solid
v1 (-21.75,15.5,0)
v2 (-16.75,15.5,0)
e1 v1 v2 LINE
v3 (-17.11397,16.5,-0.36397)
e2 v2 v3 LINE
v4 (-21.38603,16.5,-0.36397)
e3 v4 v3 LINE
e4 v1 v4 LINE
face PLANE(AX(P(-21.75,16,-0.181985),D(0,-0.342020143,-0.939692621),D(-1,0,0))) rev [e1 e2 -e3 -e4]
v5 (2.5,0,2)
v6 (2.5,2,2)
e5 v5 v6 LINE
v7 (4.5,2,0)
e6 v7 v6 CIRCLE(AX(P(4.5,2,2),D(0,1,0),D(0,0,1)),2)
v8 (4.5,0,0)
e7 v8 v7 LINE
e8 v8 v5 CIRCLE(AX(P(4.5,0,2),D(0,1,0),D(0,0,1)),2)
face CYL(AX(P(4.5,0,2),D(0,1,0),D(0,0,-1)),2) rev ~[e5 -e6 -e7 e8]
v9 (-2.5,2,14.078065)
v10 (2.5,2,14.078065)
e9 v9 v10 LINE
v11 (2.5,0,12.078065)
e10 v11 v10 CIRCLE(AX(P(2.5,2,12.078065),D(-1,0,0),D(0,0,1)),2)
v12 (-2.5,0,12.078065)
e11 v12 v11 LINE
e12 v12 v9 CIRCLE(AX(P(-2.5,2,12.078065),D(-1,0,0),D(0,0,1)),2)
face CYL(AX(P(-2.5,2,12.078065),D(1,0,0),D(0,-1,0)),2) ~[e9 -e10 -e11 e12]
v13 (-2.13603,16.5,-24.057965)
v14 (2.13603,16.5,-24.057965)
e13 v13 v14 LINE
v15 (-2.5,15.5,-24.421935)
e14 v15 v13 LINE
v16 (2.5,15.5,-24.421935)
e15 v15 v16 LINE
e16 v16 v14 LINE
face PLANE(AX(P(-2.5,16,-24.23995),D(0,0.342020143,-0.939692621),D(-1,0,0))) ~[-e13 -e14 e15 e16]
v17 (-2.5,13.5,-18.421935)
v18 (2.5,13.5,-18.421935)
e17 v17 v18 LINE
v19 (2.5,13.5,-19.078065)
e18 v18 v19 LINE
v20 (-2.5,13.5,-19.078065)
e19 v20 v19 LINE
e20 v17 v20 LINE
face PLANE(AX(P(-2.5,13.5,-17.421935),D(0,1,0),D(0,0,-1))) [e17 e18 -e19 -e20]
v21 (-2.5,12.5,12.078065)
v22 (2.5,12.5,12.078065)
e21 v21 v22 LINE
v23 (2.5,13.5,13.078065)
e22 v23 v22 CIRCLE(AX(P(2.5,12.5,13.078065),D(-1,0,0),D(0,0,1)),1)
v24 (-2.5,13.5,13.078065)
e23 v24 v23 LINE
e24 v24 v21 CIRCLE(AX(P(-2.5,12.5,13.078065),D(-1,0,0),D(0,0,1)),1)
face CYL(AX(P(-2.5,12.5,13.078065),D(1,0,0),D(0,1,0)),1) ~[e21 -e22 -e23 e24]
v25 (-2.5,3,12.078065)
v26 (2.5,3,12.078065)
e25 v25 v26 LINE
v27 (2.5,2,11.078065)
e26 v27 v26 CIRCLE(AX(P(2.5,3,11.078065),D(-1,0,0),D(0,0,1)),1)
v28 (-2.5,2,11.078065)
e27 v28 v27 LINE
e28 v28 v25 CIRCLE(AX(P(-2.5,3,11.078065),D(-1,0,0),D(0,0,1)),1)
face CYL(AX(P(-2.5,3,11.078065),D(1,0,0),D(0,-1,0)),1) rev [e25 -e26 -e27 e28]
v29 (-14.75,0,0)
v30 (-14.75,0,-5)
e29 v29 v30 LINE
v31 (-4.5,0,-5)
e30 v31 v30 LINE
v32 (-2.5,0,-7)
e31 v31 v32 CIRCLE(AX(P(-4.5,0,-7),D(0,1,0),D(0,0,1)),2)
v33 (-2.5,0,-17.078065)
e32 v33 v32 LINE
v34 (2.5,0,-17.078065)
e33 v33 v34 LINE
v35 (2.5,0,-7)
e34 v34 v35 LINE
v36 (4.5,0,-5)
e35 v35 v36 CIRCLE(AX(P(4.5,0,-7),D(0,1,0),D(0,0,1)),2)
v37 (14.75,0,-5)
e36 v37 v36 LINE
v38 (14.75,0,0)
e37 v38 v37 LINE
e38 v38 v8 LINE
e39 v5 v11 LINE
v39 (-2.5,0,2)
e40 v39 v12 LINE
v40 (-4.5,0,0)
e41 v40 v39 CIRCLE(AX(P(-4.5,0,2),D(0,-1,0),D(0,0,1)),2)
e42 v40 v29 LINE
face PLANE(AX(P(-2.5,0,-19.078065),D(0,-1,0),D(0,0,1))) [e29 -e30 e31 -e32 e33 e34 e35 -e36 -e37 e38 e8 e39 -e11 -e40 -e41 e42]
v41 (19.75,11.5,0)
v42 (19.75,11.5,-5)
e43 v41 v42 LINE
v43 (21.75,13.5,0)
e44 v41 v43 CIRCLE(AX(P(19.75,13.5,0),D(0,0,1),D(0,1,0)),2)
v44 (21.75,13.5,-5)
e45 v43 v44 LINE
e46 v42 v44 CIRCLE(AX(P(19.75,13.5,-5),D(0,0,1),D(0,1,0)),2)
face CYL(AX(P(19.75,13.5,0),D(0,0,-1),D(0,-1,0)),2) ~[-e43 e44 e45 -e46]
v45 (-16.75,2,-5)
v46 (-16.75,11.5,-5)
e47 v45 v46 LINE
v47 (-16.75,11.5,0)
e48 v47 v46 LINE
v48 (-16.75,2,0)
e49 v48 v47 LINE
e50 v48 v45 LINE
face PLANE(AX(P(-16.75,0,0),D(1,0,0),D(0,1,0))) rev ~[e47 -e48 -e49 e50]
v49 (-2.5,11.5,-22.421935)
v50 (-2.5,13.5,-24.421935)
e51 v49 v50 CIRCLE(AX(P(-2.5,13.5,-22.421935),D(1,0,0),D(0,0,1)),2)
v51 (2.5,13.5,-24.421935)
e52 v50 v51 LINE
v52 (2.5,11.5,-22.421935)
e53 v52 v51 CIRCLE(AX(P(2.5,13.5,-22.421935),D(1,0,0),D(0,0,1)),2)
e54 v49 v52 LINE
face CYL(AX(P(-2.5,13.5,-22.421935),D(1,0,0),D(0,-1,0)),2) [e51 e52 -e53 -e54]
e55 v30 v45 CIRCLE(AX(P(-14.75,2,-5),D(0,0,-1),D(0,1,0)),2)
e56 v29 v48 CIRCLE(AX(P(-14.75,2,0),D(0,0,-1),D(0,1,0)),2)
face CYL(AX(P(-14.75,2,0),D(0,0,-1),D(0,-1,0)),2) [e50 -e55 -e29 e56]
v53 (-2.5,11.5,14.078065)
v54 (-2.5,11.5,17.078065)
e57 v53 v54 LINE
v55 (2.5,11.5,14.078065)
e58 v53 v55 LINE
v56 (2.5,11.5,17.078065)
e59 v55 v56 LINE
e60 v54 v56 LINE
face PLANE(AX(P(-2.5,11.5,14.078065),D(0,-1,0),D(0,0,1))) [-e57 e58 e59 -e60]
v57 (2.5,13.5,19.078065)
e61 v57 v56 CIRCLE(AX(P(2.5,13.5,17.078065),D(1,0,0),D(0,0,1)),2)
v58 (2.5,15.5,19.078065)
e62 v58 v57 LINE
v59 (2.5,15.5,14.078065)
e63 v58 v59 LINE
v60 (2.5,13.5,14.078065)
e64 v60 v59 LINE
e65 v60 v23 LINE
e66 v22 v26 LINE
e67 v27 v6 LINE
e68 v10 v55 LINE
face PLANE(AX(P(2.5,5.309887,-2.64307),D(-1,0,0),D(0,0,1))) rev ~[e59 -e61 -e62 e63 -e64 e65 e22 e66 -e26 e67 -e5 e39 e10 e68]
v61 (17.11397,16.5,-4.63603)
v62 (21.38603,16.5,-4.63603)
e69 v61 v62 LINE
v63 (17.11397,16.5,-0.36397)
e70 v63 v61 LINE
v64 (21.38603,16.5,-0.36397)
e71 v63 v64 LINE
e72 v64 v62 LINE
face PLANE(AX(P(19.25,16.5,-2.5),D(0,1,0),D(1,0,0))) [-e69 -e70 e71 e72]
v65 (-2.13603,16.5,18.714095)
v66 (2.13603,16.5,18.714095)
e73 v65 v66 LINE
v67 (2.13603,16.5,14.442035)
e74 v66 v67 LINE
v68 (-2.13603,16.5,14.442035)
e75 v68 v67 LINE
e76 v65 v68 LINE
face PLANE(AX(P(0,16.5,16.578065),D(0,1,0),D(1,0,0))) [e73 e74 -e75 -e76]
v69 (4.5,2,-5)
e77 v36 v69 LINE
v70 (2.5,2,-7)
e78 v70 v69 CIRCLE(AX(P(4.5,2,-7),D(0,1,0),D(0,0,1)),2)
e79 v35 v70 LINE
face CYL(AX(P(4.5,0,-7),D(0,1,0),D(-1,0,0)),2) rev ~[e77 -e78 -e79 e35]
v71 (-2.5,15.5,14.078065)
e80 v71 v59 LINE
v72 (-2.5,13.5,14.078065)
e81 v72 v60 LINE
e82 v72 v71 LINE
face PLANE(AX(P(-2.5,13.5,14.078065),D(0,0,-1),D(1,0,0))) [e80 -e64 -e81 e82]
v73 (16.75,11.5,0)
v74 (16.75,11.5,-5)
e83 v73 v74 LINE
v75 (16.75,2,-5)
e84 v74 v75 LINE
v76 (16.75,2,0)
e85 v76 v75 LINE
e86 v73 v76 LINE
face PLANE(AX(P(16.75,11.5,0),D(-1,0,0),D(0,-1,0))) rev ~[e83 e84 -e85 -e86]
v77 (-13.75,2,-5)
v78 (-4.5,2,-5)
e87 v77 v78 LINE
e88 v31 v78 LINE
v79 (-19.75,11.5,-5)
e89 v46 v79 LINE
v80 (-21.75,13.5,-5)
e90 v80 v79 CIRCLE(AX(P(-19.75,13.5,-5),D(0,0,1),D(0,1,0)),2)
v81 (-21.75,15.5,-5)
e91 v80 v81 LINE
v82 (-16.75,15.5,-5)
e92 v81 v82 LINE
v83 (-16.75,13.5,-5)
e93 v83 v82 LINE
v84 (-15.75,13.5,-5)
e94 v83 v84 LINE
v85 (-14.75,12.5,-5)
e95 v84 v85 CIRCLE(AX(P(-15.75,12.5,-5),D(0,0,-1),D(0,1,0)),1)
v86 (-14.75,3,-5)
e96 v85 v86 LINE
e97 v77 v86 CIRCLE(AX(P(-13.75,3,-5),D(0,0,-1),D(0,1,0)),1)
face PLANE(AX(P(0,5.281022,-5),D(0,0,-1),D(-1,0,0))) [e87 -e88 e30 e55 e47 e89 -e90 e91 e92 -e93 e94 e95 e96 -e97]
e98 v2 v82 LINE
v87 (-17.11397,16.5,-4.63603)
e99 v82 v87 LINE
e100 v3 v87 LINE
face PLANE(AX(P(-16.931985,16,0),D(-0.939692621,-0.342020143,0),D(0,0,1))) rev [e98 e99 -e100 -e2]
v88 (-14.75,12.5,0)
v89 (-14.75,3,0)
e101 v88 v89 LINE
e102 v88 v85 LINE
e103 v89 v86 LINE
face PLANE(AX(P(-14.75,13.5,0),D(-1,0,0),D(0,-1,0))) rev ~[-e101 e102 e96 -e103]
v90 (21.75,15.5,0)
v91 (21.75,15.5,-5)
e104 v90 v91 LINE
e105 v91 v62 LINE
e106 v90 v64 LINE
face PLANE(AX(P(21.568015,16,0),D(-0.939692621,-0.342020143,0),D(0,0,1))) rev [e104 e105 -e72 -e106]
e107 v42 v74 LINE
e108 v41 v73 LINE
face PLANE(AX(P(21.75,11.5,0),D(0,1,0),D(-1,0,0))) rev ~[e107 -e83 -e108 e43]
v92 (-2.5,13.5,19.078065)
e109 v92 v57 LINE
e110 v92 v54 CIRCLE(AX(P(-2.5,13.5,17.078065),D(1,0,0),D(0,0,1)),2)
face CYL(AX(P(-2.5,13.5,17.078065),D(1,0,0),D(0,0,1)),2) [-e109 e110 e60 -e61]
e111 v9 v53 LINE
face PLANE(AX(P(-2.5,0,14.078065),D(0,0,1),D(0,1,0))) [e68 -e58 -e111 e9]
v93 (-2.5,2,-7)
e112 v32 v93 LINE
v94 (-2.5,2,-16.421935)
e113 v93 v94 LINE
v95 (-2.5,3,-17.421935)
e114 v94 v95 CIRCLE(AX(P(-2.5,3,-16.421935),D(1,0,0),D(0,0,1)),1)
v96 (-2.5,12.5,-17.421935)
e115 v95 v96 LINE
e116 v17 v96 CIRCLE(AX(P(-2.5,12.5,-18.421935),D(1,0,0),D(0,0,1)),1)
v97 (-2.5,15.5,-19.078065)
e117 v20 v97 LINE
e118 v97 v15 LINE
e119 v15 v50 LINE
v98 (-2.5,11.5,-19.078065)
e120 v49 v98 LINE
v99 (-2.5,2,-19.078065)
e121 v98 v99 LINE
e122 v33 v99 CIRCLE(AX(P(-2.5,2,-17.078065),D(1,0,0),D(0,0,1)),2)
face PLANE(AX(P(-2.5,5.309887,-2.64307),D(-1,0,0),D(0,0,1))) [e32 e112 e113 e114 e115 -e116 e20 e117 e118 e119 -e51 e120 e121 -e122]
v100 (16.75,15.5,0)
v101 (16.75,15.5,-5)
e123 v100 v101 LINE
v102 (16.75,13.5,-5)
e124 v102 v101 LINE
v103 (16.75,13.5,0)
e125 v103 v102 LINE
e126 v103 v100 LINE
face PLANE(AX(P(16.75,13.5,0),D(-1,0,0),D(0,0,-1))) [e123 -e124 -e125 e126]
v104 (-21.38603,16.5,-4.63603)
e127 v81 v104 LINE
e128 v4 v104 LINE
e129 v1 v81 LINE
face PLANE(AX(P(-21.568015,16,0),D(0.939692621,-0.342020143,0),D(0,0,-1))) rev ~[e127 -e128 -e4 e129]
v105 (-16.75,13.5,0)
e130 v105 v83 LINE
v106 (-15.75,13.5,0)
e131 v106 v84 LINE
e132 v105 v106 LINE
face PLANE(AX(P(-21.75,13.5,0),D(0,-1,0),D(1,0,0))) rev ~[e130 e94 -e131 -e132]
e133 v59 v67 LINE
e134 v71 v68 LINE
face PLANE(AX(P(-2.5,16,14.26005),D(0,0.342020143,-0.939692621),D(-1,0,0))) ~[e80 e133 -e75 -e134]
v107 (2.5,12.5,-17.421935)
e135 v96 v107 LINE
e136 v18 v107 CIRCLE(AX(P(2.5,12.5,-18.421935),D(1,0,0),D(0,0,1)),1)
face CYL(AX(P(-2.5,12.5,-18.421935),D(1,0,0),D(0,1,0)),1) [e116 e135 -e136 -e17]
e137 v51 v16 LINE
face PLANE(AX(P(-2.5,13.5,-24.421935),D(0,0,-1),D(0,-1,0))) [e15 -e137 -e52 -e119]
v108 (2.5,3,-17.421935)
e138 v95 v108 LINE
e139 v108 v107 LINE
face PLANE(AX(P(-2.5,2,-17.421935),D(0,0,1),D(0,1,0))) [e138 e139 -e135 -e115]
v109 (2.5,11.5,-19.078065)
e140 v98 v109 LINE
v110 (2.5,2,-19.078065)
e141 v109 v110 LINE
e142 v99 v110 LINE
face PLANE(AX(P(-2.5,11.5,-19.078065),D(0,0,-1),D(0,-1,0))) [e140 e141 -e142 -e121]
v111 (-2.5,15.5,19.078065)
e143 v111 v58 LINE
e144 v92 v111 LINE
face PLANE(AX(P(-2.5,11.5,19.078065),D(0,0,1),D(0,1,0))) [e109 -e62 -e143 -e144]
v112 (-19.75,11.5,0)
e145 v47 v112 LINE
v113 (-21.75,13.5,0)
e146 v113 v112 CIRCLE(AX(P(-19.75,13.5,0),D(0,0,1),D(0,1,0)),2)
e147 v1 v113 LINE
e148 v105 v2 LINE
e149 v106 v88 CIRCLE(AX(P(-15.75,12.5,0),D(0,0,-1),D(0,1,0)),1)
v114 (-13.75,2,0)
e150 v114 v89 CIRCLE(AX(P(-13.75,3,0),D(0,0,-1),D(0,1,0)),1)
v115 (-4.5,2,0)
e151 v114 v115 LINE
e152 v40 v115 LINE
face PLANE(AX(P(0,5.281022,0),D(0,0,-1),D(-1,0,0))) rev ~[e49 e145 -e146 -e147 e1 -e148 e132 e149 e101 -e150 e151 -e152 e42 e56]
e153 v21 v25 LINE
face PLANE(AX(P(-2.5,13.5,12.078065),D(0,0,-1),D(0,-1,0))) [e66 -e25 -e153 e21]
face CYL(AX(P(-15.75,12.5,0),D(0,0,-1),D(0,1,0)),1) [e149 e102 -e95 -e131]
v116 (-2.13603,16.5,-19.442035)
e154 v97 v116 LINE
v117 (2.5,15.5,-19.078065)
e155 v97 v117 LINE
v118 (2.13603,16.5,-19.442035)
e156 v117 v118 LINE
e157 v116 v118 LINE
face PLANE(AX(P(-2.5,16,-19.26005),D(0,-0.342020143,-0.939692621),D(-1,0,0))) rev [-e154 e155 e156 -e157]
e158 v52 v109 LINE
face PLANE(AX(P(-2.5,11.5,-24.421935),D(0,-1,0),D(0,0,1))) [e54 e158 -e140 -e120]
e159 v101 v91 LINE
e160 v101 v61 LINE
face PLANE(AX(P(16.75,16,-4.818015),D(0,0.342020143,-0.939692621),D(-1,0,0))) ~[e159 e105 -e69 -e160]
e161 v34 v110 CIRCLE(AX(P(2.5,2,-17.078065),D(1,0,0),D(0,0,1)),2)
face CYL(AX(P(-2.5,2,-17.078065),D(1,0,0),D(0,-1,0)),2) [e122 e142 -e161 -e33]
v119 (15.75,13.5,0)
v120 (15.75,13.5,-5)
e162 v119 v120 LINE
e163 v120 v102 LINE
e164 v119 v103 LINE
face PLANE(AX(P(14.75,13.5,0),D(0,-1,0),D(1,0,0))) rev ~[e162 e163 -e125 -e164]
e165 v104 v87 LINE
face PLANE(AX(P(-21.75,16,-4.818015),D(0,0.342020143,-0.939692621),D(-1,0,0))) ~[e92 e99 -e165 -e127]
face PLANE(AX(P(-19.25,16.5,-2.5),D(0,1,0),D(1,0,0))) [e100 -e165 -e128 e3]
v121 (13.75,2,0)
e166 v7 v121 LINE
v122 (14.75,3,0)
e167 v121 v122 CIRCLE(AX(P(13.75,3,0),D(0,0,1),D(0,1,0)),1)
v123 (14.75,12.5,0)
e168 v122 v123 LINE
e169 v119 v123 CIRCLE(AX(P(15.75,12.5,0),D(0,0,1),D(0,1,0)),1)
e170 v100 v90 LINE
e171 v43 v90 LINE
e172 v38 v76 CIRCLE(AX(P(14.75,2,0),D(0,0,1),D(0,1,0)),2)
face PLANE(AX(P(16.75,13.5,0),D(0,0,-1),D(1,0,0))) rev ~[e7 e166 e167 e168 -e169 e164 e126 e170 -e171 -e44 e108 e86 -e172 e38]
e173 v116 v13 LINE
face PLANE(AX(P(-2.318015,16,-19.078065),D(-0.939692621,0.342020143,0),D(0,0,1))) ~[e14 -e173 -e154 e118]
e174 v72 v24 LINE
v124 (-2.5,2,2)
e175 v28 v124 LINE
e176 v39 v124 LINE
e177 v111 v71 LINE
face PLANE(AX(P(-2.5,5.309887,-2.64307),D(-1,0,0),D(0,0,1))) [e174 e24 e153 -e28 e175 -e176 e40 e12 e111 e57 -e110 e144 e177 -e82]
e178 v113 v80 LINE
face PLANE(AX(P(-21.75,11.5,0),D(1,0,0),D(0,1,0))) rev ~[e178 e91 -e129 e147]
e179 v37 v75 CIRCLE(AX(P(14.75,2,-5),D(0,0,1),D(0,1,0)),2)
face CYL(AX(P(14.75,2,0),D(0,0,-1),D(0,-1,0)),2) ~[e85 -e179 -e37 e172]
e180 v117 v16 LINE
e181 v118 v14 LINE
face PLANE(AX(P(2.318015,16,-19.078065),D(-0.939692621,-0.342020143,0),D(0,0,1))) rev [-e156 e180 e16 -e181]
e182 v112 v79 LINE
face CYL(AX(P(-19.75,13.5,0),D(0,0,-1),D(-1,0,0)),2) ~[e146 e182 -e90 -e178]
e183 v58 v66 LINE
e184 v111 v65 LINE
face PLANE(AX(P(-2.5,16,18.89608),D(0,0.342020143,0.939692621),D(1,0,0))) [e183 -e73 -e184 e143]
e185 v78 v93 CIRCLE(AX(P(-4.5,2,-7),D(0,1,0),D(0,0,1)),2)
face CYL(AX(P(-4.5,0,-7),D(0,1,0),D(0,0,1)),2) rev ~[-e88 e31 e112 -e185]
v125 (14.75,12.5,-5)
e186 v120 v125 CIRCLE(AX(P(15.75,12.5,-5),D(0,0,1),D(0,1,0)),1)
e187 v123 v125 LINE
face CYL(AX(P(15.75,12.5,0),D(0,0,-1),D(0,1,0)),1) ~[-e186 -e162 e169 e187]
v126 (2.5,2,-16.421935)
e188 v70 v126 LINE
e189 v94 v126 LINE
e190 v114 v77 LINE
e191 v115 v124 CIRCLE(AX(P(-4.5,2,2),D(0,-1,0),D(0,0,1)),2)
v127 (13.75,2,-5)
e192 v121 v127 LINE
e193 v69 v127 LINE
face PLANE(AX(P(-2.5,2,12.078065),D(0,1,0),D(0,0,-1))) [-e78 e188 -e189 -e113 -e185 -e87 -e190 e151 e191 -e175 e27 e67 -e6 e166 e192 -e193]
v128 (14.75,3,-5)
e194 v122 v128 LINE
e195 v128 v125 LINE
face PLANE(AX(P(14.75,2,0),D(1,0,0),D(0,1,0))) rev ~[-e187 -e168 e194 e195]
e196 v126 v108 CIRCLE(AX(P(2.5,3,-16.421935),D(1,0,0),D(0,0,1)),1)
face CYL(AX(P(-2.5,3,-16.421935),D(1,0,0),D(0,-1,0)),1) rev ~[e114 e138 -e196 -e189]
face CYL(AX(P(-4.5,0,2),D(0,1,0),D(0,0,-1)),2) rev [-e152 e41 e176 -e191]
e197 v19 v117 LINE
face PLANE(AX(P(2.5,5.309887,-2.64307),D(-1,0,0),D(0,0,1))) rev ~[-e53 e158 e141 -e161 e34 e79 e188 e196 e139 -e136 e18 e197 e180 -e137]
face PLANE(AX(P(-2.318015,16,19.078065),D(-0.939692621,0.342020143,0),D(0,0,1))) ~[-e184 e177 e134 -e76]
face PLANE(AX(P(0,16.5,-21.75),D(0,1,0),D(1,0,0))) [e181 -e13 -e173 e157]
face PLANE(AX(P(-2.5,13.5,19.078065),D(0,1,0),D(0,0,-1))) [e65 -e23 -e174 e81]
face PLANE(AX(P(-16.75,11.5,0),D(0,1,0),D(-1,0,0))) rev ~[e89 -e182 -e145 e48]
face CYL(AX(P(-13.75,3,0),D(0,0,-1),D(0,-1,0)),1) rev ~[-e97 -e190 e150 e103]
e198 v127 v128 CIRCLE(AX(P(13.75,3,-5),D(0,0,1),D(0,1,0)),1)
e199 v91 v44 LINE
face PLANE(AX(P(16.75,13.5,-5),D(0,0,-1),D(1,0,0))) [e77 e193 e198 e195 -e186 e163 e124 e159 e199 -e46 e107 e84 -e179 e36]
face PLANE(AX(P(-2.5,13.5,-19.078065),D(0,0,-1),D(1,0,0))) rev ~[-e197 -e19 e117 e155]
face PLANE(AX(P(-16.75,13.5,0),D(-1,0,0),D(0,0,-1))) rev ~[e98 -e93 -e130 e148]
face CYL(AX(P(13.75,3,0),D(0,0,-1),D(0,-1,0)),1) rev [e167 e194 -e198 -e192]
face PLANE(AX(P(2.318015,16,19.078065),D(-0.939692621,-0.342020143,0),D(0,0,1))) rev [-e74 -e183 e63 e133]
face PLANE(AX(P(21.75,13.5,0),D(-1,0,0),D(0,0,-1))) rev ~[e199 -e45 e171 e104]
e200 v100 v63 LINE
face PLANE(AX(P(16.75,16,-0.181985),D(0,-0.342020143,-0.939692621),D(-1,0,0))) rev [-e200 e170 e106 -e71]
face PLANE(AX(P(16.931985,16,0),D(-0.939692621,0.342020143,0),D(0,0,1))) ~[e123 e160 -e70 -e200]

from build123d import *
from OCP.BRepFilletAPI import BRepFilletAPI_MakeChamfer

# Parameters (mm, degrees)
BOSS_EXTRUDE1_DEPTH      = 5
BOSS_EXTRUDE2_DEPTH      = 2.5
BOSS_EXTRUDE2_DEPTH_BACK = 2.5
SKETCH6_W                = 5
SKETCH6_H                = 5
SKETCH6_H_2              = 5.343869798
BOSS_EXTRUDE3_DEPTH      = 3
FILLET1_R                = 1
FILLET2_R                = 2
CHAMFER1_SIZE            = 1
CHAMFER1_SIZE2           = 0.363970234
FILLET3_R                = 1


with BuildPart() as part:
    # Sketch1 → Boss-Extrude1 (new body)
    with BuildSketch(Plane.XY):
        Polygon((16.75, 0), (-16.75, 0), (-16.75, 11.5), (-21.75, 11.5), (-21.75, 13.5), (-14.75, 13.5), (-14.75, 2), (14.75, 2), (14.75, 13.5), (21.75, 13.5), (21.75, 11.5), (16.75, 11.5), align=None)
    extrude(amount=-BOSS_EXTRUDE1_DEPTH)

    # Sketch5 → Boss-Extrude2 (add, two sides: drawn at the far end of the back side and taken through both)
    with BuildSketch(Plane(origin=(0, 0, 0), x_dir=(0, 0, -1), z_dir=(1, 0, 0)).offset(-BOSS_EXTRUDE2_DEPTH_BACK)):
        Polygon((19.078065101, 0), (-14.078065101, 0), (-14.078065101, 11.5), (-19.078065101, 11.5), (-19.078065101, 13.5), (-12.078065101, 13.5), (-12.078065101, 2), (17.421934899, 2), (17.421934899, 13.5), (24.421934899, 13.5), (24.421934899, 11.5), (19.078065101, 11.5), align=None)
    extrude(amount=BOSS_EXTRUDE2_DEPTH + BOSS_EXTRUDE2_DEPTH_BACK)

    # Sketch6 → Boss-Extrude3 (add)
    with BuildSketch(Plane(origin=(0, 13.5, 0), x_dir=(1, 0, 0), z_dir=(0, 1, 0))):
        with Locations((19.25, 2.5)):
            Rectangle(SKETCH6_W, SKETCH6_H)
        with Locations((0, -16.578065101)):
            Rectangle(SKETCH6_W, SKETCH6_H)
        with Locations((-19.25, 2.5)):
            Rectangle(SKETCH6_W, SKETCH6_H)
        with Locations((0, 21.75)):
            Rectangle(SKETCH6_W, SKETCH6_H_2)
    extrude(amount=BOSS_EXTRUDE3_DEPTH)

    # Fillet1
    fillet1_edges = [part.edges().sort_by_distance(p)[0] for p in [
        (-14.75, 2, -2.5),
        (14.75, 2, -2.5),
        (0, 2, 12.078065101),
        (0, 2, -17.421934899),
    ]]
    fillet(fillet1_edges, radius=FILLET1_R)

    # Fillet2
    fillet2_edges = [part.edges().sort_by_distance(p)[0] for p in [
        (-21.75, 11.5, -2.5),
        (21.75, 11.5, -2.5),
        (16.75, 0, -2.5),
        (-16.75, 0, -2.5),
        (2.5, 1, 0),
        (-2.5, 1, 0),
        (0, 0, -19.078065101),
        (-2.5, 1, -5),
        (2.5, 1, -5),
        (0, 0, 14.078065101),
        (0, 11.5, 19.078065101),
        (0, 11.5, -24.421934899),
    ]]
    fillet(fillet2_edges, radius=FILLET2_R)

    # Chamfer1: one chamfer whose edges measure the first distance from different faces: ONE call of the kernel's chamfer builder (chamfer() names one face for all edges)
    chamfer1_edges_1 = [part.edges().sort_by_distance(p)[0] for p in [
        (-16.75, 16.5, -2.5),
    ]]
    chamfer1_side_1 = [part.faces().sort_by_distance(p)[0] for p in [
        (-16.75, 15, -2.5),
    ]]
    chamfer1_edges_2 = [part.edges().sort_by_distance(p)[0] for p in [
        (-19.25, 16.5, -5),
    ]]
    chamfer1_side_2 = [part.faces().sort_by_distance(p)[0] for p in [
        (-15.136362203, 7.64232962, -5),
    ]]
    chamfer1_edges_3 = [part.edges().sort_by_distance(p)[0] for p in [
        (-21.75, 16.5, -2.5),
    ]]
    chamfer1_side_3 = [part.faces().sort_by_distance(p)[0] for p in [
        (-21.75, 15, -2.5),
    ]]
    chamfer1_edges_4 = [part.edges().sort_by_distance(p)[0] for p in [
        (-19.25, 16.5, 0),
    ]]
    chamfer1_side_4 = [part.faces().sort_by_distance(p)[0] for p in [
        (-15.136362203, 7.64232962, 0),
    ]]
    chamfer1_edges_5 = [part.edges().sort_by_distance(p)[0] for p in [
        (-2.5, 16.5, -21.75),
    ]]
    chamfer1_side_5 = [part.faces().sort_by_distance(p)[0] for p in [
        (-2.5, 7.829257404, -17.697130979),
    ]]
    chamfer1_edges_6 = [part.edges().sort_by_distance(p)[0] for p in [
        (0, 16.5, -19.078065101),
    ]]
    chamfer1_side_6 = [part.faces().sort_by_distance(p)[0] for p in [
        (0, 15, -19.078065101),
    ]]
    chamfer1_edges_7 = [part.edges().sort_by_distance(p)[0] for p in [
        (2.5, 16.5, -21.75),
    ]]
    chamfer1_side_7 = [part.faces().sort_by_distance(p)[0] for p in [
        (2.5, 7.829257404, -17.697130979),
    ]]
    chamfer1_edges_8 = [part.edges().sort_by_distance(p)[0] for p in [
        (0, 16.5, -24.421934899),
    ]]
    chamfer1_side_8 = [part.faces().sort_by_distance(p)[0] for p in [
        (0, 15, -24.421934899),
    ]]
    chamfer1_edges_9 = [part.edges().sort_by_distance(p)[0] for p in [
        (21.75, 16.5, -2.5),
    ]]
    chamfer1_side_9 = [part.faces().sort_by_distance(p)[0] for p in [
        (21.75, 15, -2.5),
    ]]
    chamfer1_edges_10 = [part.edges().sort_by_distance(p)[0] for p in [
        (19.25, 16.5, -5),
    ]]
    chamfer1_side_10 = [part.faces().sort_by_distance(p)[0] for p in [
        (15.136362203, 7.64232962, -5),
    ]]
    chamfer1_edges_11 = [part.edges().sort_by_distance(p)[0] for p in [
        (16.75, 16.5, -2.5),
    ]]
    chamfer1_side_11 = [part.faces().sort_by_distance(p)[0] for p in [
        (16.75, 15, -2.5),
    ]]
    chamfer1_edges_12 = [part.edges().sort_by_distance(p)[0] for p in [
        (19.25, 16.5, 0),
    ]]
    chamfer1_side_12 = [part.faces().sort_by_distance(p)[0] for p in [
        (15.136362203, 7.64232962, 0),
    ]]
    chamfer1_edges_13 = [part.edges().sort_by_distance(p)[0] for p in [
        (-2.5, 16.5, 16.578065101),
    ]]
    chamfer1_side_13 = [part.faces().sort_by_distance(p)[0] for p in [
        (-2.5, 7.674657573, 12.515775654),
    ]]
    chamfer1_edges_14 = [part.edges().sort_by_distance(p)[0] for p in [
        (0, 16.5, 19.078065101),
    ]]
    chamfer1_side_14 = [part.faces().sort_by_distance(p)[0] for p in [
        (0, 15, 19.078065101),
    ]]
    chamfer1_edges_15 = [part.edges().sort_by_distance(p)[0] for p in [
        (2.5, 16.5, 16.578065101),
    ]]
    chamfer1_side_15 = [part.faces().sort_by_distance(p)[0] for p in [
        (2.5, 7.674657573, 12.515775654),
    ]]
    chamfer1_edges_16 = [part.edges().sort_by_distance(p)[0] for p in [
        (0, 16.5, 14.078065101),
    ]]
    chamfer1_side_16 = [part.faces().sort_by_distance(p)[0] for p in [
        (0, 15, 14.078065101),
    ]]
    chamfer1 = BRepFilletAPI_MakeChamfer(part.part.solid().wrapped)
    for e in chamfer1_edges_1:
        chamfer1.Add(CHAMFER1_SIZE, CHAMFER1_SIZE2, e.wrapped, chamfer1_side_1[0].wrapped)  # the first distance lies on this face
    for e in chamfer1_edges_2:
        chamfer1.Add(CHAMFER1_SIZE, CHAMFER1_SIZE2, e.wrapped, chamfer1_side_2[0].wrapped)  # the first distance lies on this face
    for e in chamfer1_edges_3:
        chamfer1.Add(CHAMFER1_SIZE, CHAMFER1_SIZE2, e.wrapped, chamfer1_side_3[0].wrapped)  # the first distance lies on this face
    for e in chamfer1_edges_4:
        chamfer1.Add(CHAMFER1_SIZE, CHAMFER1_SIZE2, e.wrapped, chamfer1_side_4[0].wrapped)  # the first distance lies on this face
    for e in chamfer1_edges_5:
        chamfer1.Add(CHAMFER1_SIZE, CHAMFER1_SIZE2, e.wrapped, chamfer1_side_5[0].wrapped)  # the first distance lies on this face
    for e in chamfer1_edges_6:
        chamfer1.Add(CHAMFER1_SIZE, CHAMFER1_SIZE2, e.wrapped, chamfer1_side_6[0].wrapped)  # the first distance lies on this face
    for e in chamfer1_edges_7:
        chamfer1.Add(CHAMFER1_SIZE, CHAMFER1_SIZE2, e.wrapped, chamfer1_side_7[0].wrapped)  # the first distance lies on this face
    for e in chamfer1_edges_8:
        chamfer1.Add(CHAMFER1_SIZE, CHAMFER1_SIZE2, e.wrapped, chamfer1_side_8[0].wrapped)  # the first distance lies on this face
    for e in chamfer1_edges_9:
        chamfer1.Add(CHAMFER1_SIZE, CHAMFER1_SIZE2, e.wrapped, chamfer1_side_9[0].wrapped)  # the first distance lies on this face
    for e in chamfer1_edges_10:
        chamfer1.Add(CHAMFER1_SIZE, CHAMFER1_SIZE2, e.wrapped, chamfer1_side_10[0].wrapped)  # the first distance lies on this face
    for e in chamfer1_edges_11:
        chamfer1.Add(CHAMFER1_SIZE, CHAMFER1_SIZE2, e.wrapped, chamfer1_side_11[0].wrapped)  # the first distance lies on this face
    for e in chamfer1_edges_12:
        chamfer1.Add(CHAMFER1_SIZE, CHAMFER1_SIZE2, e.wrapped, chamfer1_side_12[0].wrapped)  # the first distance lies on this face
    for e in chamfer1_edges_13:
        chamfer1.Add(CHAMFER1_SIZE, CHAMFER1_SIZE2, e.wrapped, chamfer1_side_13[0].wrapped)  # the first distance lies on this face
    for e in chamfer1_edges_14:
        chamfer1.Add(CHAMFER1_SIZE, CHAMFER1_SIZE2, e.wrapped, chamfer1_side_14[0].wrapped)  # the first distance lies on this face
    for e in chamfer1_edges_15:
        chamfer1.Add(CHAMFER1_SIZE, CHAMFER1_SIZE2, e.wrapped, chamfer1_side_15[0].wrapped)  # the first distance lies on this face
    for e in chamfer1_edges_16:
        chamfer1.Add(CHAMFER1_SIZE, CHAMFER1_SIZE2, e.wrapped, chamfer1_side_16[0].wrapped)  # the first distance lies on this face
    add(Compound.cast(chamfer1.Shape()), mode=Mode.REPLACE)

    # Fillet3
    fillet3_edges = [part.edges().sort_by_distance(p)[0] for p in [
        (-14.75, 13.5, -2.5),
        (14.75, 13.5, -2.5),
        (0, 13.5, 12.078065101),
        (0, 13.5, -17.421934899),
    ]]
    fillet(fillet3_edges, radius=FILLET3_R)


solid = part.part
